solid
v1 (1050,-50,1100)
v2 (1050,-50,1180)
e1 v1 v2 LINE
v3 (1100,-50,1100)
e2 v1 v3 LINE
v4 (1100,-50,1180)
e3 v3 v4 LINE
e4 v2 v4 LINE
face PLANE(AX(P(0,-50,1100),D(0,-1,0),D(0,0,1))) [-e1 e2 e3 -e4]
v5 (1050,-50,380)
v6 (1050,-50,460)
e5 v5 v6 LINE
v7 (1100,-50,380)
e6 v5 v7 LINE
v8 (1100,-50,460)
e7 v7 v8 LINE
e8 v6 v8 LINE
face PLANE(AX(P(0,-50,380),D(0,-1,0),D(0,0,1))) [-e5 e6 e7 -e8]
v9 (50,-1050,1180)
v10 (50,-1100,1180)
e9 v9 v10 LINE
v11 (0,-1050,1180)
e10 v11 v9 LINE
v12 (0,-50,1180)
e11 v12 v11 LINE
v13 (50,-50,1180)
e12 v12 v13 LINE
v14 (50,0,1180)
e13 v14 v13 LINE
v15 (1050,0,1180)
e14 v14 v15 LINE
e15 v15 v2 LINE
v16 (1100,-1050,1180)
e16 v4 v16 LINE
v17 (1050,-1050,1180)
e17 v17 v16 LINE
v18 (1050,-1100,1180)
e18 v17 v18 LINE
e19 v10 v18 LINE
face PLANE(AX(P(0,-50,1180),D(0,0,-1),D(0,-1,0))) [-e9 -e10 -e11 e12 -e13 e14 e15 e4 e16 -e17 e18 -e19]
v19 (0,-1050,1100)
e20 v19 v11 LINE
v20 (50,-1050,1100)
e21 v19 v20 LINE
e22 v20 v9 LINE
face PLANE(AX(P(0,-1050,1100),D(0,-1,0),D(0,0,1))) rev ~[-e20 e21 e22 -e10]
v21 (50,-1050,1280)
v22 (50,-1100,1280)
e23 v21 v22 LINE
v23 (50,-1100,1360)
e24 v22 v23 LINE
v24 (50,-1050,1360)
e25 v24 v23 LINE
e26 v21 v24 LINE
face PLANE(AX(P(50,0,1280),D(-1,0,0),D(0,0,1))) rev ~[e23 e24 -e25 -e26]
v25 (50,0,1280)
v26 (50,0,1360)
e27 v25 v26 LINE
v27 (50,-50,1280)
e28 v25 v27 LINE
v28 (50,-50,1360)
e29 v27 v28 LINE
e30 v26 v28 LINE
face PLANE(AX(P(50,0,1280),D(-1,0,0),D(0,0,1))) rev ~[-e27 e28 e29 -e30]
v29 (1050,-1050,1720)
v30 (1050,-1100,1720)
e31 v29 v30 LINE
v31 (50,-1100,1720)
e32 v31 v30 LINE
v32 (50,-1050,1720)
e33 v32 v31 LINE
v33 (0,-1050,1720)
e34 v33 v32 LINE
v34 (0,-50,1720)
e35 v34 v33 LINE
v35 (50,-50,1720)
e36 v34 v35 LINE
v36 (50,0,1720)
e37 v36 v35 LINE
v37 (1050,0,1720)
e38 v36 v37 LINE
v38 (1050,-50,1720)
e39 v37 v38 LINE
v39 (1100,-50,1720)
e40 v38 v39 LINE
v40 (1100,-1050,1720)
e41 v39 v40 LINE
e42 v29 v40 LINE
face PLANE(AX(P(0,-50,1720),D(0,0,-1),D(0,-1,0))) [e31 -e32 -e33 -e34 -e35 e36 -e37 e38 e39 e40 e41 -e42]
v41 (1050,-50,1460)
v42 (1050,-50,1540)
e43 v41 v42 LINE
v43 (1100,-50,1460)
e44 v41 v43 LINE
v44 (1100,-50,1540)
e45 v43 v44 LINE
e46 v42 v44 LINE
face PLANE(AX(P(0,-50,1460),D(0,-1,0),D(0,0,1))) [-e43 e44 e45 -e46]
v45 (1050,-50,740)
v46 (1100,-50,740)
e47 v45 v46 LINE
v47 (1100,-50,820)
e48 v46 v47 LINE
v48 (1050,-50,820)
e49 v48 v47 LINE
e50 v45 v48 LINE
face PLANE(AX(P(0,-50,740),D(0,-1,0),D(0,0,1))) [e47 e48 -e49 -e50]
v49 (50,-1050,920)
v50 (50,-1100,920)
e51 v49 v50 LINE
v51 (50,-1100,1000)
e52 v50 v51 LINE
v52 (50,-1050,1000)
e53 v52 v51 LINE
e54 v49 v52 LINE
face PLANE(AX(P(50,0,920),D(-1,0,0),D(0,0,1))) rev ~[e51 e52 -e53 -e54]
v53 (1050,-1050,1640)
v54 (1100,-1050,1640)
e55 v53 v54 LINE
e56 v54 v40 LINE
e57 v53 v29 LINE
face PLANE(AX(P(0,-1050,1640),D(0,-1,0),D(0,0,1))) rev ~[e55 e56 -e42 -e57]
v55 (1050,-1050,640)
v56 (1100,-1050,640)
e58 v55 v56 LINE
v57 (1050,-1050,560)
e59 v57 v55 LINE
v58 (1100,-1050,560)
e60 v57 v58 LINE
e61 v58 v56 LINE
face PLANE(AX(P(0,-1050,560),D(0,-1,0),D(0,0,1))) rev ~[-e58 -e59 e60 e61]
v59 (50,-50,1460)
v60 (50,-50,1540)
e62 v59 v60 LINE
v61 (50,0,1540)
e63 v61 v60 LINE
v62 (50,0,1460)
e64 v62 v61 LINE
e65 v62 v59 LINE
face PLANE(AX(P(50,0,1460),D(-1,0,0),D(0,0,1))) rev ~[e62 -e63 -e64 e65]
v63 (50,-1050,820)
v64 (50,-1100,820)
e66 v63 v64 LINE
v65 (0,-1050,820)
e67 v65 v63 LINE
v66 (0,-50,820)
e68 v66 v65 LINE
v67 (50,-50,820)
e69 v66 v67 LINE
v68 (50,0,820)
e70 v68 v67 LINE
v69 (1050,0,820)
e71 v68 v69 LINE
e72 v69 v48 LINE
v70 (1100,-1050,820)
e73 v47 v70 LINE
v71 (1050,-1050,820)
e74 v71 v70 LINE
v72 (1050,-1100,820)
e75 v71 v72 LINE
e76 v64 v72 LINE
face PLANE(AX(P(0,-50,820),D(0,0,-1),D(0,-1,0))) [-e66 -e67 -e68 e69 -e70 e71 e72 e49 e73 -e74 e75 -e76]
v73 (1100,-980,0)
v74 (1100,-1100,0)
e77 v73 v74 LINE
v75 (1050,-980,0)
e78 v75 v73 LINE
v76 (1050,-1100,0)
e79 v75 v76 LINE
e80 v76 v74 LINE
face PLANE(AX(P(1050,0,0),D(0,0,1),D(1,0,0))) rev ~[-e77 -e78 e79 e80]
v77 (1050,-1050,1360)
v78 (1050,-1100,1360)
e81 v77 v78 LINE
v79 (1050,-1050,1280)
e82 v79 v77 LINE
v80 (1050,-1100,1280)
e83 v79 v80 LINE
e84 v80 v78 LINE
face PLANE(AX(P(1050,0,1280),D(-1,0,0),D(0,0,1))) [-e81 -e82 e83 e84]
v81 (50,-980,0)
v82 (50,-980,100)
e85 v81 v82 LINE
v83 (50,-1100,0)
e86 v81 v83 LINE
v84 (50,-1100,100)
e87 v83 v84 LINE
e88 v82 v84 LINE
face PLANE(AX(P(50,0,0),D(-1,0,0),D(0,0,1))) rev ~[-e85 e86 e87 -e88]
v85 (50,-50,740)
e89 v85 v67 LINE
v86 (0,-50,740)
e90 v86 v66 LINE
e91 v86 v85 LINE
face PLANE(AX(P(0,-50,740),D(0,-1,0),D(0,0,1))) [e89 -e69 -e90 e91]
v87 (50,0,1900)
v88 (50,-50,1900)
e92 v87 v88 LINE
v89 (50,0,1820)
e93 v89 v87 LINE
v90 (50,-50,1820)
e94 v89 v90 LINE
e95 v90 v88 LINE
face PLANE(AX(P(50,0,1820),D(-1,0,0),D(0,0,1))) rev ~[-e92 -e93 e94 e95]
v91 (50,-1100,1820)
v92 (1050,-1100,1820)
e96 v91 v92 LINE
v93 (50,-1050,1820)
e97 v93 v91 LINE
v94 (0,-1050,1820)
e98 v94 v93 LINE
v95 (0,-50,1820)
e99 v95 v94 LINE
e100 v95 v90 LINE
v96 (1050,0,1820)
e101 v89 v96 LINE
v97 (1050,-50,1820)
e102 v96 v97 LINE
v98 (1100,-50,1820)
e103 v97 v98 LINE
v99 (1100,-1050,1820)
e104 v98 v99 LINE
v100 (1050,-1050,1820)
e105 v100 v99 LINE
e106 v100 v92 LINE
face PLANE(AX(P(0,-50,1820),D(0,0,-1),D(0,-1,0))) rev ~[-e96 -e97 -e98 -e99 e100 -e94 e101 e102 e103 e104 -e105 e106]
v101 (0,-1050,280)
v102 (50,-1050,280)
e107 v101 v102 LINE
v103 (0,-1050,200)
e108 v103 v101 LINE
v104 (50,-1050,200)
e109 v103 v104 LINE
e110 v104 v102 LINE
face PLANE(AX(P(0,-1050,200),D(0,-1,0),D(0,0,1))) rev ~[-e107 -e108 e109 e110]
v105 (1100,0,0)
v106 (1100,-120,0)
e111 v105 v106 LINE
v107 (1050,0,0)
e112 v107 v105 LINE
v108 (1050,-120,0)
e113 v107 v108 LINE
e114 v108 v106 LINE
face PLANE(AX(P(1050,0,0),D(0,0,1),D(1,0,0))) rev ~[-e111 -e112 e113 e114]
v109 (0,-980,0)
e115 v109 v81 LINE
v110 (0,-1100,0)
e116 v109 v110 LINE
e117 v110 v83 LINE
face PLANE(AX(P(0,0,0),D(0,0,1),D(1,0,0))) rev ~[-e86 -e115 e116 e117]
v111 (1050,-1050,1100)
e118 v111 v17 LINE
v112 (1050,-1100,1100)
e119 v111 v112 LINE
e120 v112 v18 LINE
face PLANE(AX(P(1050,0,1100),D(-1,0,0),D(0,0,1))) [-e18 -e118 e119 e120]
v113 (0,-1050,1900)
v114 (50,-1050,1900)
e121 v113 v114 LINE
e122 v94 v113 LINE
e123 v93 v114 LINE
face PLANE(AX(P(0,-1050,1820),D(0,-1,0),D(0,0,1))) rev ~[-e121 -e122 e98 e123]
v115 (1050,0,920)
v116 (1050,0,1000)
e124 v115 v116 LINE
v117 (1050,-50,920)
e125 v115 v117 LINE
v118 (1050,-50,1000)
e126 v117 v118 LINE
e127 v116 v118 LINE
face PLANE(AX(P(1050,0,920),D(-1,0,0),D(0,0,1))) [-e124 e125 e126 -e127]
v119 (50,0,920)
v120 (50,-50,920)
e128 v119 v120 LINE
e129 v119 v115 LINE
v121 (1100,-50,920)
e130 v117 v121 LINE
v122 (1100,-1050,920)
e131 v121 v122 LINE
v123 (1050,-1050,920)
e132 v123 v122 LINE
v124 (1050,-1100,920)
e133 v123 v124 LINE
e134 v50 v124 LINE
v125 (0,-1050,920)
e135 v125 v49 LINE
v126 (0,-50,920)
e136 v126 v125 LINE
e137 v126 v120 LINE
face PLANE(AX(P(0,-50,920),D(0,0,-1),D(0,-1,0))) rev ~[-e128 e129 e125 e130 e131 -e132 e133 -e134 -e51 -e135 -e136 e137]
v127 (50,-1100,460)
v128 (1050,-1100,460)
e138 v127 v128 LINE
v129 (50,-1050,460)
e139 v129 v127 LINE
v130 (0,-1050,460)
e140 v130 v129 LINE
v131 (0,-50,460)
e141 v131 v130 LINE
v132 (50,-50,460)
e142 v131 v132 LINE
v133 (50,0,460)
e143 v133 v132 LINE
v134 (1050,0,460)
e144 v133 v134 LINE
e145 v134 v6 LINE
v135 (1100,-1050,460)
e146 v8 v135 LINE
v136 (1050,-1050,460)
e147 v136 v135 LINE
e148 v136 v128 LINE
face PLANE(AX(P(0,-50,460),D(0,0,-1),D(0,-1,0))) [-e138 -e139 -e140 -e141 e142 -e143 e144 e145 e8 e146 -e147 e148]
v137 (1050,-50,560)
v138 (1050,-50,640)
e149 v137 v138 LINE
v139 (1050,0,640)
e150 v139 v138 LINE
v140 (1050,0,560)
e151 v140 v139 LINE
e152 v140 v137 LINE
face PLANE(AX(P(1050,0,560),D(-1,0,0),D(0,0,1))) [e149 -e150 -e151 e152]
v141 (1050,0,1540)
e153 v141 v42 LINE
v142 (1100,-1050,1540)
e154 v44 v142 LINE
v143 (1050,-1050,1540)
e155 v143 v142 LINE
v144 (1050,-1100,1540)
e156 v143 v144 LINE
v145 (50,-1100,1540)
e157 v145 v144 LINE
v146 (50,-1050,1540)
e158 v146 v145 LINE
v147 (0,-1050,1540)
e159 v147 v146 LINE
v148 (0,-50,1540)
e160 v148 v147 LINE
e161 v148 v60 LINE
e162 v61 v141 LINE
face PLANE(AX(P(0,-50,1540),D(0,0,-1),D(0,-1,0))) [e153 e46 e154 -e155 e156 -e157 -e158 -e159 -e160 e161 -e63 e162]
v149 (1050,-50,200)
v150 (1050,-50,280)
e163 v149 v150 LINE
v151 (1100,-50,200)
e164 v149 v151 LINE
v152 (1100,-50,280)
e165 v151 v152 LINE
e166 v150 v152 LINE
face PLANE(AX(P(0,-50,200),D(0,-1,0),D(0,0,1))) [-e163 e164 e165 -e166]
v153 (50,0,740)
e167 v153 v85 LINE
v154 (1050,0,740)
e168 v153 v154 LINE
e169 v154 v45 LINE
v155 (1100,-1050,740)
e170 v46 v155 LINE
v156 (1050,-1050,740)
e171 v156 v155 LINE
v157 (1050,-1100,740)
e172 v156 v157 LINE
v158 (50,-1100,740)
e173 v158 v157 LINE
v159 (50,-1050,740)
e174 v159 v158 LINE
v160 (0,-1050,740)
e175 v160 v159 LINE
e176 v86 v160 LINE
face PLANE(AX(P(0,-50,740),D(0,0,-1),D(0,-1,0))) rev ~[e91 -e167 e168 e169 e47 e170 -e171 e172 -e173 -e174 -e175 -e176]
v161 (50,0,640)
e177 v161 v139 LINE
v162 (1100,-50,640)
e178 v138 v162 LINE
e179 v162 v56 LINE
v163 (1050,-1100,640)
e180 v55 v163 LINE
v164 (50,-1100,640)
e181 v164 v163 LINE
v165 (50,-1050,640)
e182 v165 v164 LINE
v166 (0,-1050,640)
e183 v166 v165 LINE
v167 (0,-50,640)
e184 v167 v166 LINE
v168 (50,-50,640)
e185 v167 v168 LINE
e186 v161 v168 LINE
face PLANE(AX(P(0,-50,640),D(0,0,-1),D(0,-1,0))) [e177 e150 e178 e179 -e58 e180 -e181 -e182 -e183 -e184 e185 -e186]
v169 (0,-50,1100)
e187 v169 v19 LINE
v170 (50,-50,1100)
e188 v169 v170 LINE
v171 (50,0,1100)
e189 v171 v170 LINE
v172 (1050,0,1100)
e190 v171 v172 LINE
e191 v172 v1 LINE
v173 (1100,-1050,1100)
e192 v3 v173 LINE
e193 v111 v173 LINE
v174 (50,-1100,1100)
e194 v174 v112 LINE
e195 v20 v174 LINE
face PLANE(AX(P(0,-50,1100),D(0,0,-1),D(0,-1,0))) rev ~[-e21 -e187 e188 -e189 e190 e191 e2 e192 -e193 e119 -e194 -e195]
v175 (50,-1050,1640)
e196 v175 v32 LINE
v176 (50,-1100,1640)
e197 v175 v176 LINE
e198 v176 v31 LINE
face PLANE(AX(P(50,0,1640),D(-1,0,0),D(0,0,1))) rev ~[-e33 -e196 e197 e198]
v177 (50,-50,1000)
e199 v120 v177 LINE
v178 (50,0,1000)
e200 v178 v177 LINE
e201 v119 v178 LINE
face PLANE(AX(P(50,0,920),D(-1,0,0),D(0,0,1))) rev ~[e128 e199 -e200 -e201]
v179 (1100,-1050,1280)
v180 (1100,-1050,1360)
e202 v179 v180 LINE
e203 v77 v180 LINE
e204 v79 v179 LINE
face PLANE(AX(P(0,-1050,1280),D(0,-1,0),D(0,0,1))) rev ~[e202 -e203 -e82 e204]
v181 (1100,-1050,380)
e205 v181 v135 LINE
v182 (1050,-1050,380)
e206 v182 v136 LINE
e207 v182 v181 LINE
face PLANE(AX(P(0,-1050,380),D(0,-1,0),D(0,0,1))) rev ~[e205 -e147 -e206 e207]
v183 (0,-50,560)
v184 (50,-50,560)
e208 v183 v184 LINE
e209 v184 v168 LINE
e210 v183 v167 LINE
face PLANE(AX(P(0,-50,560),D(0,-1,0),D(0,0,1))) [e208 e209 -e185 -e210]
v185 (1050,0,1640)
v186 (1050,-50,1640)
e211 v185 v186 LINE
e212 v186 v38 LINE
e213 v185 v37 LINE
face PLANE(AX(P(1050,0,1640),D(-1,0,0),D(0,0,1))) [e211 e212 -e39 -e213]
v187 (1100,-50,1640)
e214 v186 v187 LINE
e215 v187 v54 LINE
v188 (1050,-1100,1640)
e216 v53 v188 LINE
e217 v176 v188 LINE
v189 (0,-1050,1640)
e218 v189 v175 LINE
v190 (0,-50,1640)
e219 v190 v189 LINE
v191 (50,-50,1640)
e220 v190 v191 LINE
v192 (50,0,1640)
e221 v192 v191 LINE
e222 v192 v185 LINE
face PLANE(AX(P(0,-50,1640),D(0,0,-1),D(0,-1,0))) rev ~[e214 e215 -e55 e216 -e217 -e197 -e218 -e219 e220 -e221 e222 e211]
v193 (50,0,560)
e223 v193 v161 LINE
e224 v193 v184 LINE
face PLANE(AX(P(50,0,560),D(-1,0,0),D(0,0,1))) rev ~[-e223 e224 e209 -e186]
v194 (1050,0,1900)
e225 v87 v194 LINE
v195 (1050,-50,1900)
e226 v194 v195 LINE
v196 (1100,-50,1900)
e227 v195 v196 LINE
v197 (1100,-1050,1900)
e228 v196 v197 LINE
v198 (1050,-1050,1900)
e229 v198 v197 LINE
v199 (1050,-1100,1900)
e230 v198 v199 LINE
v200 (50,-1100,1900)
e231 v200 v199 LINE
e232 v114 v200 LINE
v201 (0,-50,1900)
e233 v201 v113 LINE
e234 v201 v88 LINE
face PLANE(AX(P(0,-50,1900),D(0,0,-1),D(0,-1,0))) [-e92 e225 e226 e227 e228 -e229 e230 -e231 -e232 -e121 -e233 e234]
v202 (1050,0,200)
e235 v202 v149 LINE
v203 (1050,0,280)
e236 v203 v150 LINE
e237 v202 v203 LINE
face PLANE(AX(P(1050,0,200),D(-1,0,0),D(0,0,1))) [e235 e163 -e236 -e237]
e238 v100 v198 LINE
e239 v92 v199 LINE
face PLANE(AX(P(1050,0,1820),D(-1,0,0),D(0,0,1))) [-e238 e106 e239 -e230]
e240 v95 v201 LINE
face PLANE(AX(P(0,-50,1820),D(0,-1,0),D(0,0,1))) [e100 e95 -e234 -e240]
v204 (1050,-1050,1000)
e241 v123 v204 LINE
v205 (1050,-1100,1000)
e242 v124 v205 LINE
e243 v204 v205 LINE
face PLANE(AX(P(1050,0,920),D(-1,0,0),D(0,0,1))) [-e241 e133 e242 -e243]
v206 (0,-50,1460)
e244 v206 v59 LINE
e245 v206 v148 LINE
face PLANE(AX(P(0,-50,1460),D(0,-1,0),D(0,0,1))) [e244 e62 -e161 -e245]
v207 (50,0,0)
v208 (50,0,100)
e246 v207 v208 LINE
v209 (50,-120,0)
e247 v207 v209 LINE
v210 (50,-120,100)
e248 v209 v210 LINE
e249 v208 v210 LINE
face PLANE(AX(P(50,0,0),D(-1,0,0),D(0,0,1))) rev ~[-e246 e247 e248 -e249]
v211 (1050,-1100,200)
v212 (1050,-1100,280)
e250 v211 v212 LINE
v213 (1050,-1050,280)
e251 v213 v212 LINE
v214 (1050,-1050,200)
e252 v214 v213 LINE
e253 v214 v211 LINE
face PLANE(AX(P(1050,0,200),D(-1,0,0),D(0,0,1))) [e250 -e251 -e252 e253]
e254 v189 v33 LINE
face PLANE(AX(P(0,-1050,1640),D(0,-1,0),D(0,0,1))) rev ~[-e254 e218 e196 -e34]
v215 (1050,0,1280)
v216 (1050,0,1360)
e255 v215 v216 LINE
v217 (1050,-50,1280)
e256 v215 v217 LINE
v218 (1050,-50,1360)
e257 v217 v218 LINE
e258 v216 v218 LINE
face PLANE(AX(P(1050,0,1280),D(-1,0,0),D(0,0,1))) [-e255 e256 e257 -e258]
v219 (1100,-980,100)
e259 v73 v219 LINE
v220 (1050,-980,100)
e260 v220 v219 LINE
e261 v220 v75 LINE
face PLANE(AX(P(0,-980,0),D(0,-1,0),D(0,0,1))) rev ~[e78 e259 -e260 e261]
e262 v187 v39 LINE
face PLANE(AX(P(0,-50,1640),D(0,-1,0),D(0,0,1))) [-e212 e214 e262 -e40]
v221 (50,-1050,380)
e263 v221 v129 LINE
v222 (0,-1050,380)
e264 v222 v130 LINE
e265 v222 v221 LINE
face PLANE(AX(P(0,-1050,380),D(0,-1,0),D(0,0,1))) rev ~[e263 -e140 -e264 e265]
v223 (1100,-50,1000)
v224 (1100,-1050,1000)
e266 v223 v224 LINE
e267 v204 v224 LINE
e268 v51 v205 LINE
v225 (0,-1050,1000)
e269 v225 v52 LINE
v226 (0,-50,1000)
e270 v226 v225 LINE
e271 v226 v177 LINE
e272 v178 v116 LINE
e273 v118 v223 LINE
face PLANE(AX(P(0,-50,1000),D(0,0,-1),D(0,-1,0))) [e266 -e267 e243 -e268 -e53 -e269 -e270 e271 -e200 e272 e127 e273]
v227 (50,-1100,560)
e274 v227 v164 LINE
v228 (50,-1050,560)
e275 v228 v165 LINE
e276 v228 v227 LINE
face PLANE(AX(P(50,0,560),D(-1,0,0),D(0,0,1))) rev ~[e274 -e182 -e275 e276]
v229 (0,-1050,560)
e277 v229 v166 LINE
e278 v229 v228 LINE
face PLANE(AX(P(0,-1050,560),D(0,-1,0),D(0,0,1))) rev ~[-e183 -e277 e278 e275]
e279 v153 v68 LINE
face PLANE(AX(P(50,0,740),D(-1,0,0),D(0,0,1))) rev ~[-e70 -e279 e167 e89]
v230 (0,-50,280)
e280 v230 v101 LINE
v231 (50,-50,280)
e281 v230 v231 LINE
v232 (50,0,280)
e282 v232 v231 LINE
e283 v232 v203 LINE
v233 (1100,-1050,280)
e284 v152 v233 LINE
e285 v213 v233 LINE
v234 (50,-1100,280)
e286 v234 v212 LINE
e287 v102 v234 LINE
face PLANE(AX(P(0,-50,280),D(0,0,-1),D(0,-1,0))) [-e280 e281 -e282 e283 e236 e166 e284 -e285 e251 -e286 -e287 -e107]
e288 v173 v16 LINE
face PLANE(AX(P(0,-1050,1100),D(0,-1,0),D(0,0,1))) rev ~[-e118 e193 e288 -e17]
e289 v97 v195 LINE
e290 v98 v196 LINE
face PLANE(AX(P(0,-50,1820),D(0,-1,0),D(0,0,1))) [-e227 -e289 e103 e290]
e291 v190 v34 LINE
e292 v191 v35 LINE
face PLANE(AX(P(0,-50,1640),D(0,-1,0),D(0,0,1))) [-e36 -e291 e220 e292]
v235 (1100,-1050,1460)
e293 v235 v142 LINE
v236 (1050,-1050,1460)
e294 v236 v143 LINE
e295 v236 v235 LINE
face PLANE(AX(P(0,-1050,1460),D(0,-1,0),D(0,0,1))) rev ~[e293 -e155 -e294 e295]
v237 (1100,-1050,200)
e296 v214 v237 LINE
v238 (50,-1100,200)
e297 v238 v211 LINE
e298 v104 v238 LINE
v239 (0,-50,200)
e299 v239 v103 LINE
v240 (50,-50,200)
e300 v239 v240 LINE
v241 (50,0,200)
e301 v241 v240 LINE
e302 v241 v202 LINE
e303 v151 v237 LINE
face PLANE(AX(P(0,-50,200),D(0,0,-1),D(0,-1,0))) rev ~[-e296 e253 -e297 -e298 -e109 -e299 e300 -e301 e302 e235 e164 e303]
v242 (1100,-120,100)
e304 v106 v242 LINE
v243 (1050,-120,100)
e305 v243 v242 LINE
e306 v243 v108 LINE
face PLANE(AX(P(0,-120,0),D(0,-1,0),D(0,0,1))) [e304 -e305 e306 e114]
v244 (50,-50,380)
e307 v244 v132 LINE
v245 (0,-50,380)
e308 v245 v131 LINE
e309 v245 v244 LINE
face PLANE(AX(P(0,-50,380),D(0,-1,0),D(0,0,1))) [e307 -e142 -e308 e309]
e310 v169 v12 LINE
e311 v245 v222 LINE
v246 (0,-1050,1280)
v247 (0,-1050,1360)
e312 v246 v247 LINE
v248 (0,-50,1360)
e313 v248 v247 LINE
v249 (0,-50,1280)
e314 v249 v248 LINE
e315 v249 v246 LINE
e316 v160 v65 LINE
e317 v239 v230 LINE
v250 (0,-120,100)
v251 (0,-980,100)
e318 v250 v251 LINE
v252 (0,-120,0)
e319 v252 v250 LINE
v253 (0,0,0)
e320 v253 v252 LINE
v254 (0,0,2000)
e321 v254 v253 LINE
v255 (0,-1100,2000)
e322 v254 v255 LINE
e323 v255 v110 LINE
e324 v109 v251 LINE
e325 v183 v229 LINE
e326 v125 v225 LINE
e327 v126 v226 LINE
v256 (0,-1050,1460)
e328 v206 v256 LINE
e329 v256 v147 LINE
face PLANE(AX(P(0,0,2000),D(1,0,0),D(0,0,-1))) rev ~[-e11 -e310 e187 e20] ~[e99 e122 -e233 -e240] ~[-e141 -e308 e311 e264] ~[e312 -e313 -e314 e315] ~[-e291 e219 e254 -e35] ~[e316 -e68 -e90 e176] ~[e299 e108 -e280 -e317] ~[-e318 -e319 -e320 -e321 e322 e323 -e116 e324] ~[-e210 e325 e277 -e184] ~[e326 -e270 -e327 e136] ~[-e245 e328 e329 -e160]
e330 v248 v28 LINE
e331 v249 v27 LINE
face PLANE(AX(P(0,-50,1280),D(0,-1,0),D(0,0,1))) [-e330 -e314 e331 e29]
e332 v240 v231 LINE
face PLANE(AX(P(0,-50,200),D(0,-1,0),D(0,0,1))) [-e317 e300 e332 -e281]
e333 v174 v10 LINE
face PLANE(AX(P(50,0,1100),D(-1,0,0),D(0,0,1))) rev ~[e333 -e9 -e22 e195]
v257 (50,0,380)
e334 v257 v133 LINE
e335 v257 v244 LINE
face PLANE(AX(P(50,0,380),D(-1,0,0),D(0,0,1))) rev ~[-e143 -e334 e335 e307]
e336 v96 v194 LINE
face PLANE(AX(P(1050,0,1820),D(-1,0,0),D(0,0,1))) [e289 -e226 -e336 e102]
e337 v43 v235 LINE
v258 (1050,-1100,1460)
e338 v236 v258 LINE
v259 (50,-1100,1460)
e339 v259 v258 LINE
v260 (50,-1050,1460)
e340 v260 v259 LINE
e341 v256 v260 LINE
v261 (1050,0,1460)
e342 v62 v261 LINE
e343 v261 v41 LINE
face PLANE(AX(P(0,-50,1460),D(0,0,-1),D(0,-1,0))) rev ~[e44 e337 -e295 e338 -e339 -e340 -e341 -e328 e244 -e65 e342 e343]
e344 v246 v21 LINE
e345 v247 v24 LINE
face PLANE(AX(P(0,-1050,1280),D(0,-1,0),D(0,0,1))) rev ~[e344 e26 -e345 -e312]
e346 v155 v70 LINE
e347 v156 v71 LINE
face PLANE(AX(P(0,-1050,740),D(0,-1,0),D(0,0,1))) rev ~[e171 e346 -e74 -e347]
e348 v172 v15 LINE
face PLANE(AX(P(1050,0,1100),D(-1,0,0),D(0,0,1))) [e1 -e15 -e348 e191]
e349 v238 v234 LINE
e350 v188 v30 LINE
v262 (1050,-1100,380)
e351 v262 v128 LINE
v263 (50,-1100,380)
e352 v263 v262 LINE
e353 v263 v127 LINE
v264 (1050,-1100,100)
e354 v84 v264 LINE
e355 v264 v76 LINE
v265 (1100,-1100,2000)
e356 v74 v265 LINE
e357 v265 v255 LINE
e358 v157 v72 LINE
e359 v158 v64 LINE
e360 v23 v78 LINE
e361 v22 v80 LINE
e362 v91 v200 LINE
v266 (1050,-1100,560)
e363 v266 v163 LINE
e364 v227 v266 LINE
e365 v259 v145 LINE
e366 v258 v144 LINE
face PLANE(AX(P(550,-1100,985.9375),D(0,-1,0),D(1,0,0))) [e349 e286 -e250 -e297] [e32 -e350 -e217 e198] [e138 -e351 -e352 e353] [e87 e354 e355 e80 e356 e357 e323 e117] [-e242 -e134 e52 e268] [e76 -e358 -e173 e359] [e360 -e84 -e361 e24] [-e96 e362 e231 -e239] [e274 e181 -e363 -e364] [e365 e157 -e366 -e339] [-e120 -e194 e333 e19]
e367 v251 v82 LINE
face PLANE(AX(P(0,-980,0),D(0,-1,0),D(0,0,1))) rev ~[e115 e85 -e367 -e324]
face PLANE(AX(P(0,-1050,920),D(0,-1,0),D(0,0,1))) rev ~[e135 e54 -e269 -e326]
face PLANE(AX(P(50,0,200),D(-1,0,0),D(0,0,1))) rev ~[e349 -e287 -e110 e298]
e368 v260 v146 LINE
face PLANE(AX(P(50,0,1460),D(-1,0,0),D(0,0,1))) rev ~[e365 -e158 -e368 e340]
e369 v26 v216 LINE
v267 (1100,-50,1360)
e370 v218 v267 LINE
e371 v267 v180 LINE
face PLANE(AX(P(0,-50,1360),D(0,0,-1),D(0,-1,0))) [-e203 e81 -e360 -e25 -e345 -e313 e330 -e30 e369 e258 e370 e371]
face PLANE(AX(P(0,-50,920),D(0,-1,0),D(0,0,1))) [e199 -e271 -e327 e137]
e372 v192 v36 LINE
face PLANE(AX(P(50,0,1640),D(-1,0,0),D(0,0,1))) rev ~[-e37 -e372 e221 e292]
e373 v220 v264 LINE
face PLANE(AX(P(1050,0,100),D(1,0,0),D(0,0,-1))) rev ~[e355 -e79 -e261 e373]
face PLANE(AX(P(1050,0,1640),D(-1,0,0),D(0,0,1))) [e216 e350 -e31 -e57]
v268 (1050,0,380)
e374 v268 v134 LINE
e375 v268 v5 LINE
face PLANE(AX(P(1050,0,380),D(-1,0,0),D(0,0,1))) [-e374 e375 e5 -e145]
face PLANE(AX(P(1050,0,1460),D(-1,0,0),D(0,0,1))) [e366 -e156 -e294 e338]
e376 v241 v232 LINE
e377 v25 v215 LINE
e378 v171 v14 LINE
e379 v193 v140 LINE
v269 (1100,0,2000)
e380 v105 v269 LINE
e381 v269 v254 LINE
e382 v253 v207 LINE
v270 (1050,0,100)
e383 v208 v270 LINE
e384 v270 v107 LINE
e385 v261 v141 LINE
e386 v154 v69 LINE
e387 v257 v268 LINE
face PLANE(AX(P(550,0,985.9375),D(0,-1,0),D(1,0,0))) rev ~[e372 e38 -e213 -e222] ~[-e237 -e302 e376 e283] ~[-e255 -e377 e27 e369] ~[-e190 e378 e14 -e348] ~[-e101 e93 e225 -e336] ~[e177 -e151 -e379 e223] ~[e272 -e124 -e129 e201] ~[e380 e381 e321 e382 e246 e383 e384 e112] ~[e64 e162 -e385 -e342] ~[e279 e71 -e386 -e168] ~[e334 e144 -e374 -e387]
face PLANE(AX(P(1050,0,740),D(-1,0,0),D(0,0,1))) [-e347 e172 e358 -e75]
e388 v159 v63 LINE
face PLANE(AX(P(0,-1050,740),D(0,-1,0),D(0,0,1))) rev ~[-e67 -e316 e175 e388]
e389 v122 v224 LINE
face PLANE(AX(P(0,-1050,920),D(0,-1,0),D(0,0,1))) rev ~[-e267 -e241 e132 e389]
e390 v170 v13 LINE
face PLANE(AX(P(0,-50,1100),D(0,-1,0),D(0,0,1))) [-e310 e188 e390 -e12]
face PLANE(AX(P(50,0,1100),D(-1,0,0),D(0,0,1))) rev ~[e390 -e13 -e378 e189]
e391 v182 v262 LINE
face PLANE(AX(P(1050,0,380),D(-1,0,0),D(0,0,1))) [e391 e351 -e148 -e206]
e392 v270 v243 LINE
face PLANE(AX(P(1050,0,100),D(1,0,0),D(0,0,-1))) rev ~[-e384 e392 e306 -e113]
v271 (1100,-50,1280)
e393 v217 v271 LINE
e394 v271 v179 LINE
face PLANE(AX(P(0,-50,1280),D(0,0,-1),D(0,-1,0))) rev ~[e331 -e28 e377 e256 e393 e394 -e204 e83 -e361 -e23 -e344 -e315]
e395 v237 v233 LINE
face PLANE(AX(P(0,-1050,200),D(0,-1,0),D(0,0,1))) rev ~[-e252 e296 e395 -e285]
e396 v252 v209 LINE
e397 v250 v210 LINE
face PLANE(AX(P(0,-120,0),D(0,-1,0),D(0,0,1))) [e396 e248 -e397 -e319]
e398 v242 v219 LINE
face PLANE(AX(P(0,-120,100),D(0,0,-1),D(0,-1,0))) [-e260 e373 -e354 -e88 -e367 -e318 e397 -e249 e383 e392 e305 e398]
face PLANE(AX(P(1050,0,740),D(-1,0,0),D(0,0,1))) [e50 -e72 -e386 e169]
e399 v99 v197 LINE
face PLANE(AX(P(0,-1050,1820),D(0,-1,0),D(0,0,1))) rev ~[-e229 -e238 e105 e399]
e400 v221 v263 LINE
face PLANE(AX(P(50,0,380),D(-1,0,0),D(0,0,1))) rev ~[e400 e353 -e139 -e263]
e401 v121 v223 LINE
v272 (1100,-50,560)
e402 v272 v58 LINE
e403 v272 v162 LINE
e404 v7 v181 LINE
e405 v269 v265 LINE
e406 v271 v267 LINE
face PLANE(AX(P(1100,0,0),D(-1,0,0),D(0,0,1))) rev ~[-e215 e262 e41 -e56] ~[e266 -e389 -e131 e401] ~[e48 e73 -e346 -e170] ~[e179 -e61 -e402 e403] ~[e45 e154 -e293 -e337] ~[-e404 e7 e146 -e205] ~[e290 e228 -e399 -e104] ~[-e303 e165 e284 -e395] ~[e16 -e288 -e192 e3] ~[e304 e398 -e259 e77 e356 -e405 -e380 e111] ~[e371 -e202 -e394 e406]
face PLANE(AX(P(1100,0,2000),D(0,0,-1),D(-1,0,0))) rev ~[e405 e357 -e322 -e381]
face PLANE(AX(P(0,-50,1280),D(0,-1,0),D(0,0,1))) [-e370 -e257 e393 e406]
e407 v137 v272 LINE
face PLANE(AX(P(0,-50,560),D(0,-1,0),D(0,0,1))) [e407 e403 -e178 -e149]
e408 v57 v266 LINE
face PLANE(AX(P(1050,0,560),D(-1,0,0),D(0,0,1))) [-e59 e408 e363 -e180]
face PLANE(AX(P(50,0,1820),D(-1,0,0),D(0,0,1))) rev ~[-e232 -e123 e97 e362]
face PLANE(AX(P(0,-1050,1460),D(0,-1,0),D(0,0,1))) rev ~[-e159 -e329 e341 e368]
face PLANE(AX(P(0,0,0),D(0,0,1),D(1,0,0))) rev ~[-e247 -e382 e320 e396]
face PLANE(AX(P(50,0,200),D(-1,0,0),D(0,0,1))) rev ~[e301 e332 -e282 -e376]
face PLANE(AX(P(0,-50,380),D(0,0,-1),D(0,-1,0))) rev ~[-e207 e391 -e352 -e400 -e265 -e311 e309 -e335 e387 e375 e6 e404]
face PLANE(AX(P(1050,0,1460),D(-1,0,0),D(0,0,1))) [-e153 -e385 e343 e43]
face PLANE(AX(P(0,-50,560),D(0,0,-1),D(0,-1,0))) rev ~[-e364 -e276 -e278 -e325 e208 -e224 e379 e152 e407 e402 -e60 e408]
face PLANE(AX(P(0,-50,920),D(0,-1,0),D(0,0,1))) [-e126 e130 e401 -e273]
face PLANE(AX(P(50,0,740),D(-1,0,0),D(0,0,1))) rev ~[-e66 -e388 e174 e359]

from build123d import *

# Parameters (mm, degrees)
F0_W     = 1000
F0_H     = 80
F1_DEPTH = 1100
F2_W     = 1000
F2_H     = 80
F2_W_2   = 860
F2_H_2   = 100
F3_DEPTH = 1100.001


with BuildPart() as f1:
    # F0 (on Front) → F1 (new body)
    with BuildSketch(Plane.XZ):
        Polygon((0, 2000), (0, 0), (50, 0), (50, 100), (1050, 100), (1050, 0), (1100, 0), (1100, 2000), align=None)
        with Locations((550, 240)):
            Rectangle(F0_W, F0_H, mode=Mode.SUBTRACT)
        with Locations((550, 420)):
            Rectangle(F0_W, F0_H, mode=Mode.SUBTRACT)
        with Locations((550, 600)):
            Rectangle(F0_W, F0_H, mode=Mode.SUBTRACT)
        with Locations((550, 780)):
            Rectangle(F0_W, F0_H, mode=Mode.SUBTRACT)
        with Locations((550, 960)):
            Rectangle(F0_W, F0_H, mode=Mode.SUBTRACT)
        with Locations((550, 1140)):
            Rectangle(F0_W, F0_H, mode=Mode.SUBTRACT)
        with Locations((550, 1320)):
            Rectangle(F0_W, F0_H, mode=Mode.SUBTRACT)
        with Locations((550, 1500)):
            Rectangle(F0_W, F0_H, mode=Mode.SUBTRACT)
        with Locations((550, 1680)):
            Rectangle(F0_W, F0_H, mode=Mode.SUBTRACT)
        with Locations((550, 1860)):
            Rectangle(F0_W, F0_H, mode=Mode.SUBTRACT)
    extrude(amount=F1_DEPTH)

    # F2 (on face) → F3 (cut, through all)
    with BuildSketch(Plane(origin=(0, 0, 0), x_dir=(0, -1, 0), z_dir=(-1, 0, 0))):
        with Locations((550, 1860)):
            Rectangle(F2_W, F2_H)
        with Locations((550, 1680)):
            Rectangle(F2_W, F2_H)
        with Locations((550, 1500)):
            Rectangle(F2_W, F2_H)
        with Locations((550, 1320)):
            Rectangle(F2_W, F2_H)
        with Locations((550, 1140)):
            Rectangle(F2_W, F2_H)
        with Locations((550, 960)):
            Rectangle(F2_W, F2_H)
        with Locations((550, 780)):
            Rectangle(F2_W, F2_H)
        with Locations((550, 600)):
            Rectangle(F2_W, F2_H)
        with Locations((550, 420)):
            Rectangle(F2_W, F2_H)
        with Locations((550, 240)):
            Rectangle(F2_W, F2_H)
        with Locations((550, 50)):
            Rectangle(F2_W_2, F2_H_2)
    extrude(amount=-F3_DEPTH, mode=Mode.SUBTRACT)


solid = f1.part
